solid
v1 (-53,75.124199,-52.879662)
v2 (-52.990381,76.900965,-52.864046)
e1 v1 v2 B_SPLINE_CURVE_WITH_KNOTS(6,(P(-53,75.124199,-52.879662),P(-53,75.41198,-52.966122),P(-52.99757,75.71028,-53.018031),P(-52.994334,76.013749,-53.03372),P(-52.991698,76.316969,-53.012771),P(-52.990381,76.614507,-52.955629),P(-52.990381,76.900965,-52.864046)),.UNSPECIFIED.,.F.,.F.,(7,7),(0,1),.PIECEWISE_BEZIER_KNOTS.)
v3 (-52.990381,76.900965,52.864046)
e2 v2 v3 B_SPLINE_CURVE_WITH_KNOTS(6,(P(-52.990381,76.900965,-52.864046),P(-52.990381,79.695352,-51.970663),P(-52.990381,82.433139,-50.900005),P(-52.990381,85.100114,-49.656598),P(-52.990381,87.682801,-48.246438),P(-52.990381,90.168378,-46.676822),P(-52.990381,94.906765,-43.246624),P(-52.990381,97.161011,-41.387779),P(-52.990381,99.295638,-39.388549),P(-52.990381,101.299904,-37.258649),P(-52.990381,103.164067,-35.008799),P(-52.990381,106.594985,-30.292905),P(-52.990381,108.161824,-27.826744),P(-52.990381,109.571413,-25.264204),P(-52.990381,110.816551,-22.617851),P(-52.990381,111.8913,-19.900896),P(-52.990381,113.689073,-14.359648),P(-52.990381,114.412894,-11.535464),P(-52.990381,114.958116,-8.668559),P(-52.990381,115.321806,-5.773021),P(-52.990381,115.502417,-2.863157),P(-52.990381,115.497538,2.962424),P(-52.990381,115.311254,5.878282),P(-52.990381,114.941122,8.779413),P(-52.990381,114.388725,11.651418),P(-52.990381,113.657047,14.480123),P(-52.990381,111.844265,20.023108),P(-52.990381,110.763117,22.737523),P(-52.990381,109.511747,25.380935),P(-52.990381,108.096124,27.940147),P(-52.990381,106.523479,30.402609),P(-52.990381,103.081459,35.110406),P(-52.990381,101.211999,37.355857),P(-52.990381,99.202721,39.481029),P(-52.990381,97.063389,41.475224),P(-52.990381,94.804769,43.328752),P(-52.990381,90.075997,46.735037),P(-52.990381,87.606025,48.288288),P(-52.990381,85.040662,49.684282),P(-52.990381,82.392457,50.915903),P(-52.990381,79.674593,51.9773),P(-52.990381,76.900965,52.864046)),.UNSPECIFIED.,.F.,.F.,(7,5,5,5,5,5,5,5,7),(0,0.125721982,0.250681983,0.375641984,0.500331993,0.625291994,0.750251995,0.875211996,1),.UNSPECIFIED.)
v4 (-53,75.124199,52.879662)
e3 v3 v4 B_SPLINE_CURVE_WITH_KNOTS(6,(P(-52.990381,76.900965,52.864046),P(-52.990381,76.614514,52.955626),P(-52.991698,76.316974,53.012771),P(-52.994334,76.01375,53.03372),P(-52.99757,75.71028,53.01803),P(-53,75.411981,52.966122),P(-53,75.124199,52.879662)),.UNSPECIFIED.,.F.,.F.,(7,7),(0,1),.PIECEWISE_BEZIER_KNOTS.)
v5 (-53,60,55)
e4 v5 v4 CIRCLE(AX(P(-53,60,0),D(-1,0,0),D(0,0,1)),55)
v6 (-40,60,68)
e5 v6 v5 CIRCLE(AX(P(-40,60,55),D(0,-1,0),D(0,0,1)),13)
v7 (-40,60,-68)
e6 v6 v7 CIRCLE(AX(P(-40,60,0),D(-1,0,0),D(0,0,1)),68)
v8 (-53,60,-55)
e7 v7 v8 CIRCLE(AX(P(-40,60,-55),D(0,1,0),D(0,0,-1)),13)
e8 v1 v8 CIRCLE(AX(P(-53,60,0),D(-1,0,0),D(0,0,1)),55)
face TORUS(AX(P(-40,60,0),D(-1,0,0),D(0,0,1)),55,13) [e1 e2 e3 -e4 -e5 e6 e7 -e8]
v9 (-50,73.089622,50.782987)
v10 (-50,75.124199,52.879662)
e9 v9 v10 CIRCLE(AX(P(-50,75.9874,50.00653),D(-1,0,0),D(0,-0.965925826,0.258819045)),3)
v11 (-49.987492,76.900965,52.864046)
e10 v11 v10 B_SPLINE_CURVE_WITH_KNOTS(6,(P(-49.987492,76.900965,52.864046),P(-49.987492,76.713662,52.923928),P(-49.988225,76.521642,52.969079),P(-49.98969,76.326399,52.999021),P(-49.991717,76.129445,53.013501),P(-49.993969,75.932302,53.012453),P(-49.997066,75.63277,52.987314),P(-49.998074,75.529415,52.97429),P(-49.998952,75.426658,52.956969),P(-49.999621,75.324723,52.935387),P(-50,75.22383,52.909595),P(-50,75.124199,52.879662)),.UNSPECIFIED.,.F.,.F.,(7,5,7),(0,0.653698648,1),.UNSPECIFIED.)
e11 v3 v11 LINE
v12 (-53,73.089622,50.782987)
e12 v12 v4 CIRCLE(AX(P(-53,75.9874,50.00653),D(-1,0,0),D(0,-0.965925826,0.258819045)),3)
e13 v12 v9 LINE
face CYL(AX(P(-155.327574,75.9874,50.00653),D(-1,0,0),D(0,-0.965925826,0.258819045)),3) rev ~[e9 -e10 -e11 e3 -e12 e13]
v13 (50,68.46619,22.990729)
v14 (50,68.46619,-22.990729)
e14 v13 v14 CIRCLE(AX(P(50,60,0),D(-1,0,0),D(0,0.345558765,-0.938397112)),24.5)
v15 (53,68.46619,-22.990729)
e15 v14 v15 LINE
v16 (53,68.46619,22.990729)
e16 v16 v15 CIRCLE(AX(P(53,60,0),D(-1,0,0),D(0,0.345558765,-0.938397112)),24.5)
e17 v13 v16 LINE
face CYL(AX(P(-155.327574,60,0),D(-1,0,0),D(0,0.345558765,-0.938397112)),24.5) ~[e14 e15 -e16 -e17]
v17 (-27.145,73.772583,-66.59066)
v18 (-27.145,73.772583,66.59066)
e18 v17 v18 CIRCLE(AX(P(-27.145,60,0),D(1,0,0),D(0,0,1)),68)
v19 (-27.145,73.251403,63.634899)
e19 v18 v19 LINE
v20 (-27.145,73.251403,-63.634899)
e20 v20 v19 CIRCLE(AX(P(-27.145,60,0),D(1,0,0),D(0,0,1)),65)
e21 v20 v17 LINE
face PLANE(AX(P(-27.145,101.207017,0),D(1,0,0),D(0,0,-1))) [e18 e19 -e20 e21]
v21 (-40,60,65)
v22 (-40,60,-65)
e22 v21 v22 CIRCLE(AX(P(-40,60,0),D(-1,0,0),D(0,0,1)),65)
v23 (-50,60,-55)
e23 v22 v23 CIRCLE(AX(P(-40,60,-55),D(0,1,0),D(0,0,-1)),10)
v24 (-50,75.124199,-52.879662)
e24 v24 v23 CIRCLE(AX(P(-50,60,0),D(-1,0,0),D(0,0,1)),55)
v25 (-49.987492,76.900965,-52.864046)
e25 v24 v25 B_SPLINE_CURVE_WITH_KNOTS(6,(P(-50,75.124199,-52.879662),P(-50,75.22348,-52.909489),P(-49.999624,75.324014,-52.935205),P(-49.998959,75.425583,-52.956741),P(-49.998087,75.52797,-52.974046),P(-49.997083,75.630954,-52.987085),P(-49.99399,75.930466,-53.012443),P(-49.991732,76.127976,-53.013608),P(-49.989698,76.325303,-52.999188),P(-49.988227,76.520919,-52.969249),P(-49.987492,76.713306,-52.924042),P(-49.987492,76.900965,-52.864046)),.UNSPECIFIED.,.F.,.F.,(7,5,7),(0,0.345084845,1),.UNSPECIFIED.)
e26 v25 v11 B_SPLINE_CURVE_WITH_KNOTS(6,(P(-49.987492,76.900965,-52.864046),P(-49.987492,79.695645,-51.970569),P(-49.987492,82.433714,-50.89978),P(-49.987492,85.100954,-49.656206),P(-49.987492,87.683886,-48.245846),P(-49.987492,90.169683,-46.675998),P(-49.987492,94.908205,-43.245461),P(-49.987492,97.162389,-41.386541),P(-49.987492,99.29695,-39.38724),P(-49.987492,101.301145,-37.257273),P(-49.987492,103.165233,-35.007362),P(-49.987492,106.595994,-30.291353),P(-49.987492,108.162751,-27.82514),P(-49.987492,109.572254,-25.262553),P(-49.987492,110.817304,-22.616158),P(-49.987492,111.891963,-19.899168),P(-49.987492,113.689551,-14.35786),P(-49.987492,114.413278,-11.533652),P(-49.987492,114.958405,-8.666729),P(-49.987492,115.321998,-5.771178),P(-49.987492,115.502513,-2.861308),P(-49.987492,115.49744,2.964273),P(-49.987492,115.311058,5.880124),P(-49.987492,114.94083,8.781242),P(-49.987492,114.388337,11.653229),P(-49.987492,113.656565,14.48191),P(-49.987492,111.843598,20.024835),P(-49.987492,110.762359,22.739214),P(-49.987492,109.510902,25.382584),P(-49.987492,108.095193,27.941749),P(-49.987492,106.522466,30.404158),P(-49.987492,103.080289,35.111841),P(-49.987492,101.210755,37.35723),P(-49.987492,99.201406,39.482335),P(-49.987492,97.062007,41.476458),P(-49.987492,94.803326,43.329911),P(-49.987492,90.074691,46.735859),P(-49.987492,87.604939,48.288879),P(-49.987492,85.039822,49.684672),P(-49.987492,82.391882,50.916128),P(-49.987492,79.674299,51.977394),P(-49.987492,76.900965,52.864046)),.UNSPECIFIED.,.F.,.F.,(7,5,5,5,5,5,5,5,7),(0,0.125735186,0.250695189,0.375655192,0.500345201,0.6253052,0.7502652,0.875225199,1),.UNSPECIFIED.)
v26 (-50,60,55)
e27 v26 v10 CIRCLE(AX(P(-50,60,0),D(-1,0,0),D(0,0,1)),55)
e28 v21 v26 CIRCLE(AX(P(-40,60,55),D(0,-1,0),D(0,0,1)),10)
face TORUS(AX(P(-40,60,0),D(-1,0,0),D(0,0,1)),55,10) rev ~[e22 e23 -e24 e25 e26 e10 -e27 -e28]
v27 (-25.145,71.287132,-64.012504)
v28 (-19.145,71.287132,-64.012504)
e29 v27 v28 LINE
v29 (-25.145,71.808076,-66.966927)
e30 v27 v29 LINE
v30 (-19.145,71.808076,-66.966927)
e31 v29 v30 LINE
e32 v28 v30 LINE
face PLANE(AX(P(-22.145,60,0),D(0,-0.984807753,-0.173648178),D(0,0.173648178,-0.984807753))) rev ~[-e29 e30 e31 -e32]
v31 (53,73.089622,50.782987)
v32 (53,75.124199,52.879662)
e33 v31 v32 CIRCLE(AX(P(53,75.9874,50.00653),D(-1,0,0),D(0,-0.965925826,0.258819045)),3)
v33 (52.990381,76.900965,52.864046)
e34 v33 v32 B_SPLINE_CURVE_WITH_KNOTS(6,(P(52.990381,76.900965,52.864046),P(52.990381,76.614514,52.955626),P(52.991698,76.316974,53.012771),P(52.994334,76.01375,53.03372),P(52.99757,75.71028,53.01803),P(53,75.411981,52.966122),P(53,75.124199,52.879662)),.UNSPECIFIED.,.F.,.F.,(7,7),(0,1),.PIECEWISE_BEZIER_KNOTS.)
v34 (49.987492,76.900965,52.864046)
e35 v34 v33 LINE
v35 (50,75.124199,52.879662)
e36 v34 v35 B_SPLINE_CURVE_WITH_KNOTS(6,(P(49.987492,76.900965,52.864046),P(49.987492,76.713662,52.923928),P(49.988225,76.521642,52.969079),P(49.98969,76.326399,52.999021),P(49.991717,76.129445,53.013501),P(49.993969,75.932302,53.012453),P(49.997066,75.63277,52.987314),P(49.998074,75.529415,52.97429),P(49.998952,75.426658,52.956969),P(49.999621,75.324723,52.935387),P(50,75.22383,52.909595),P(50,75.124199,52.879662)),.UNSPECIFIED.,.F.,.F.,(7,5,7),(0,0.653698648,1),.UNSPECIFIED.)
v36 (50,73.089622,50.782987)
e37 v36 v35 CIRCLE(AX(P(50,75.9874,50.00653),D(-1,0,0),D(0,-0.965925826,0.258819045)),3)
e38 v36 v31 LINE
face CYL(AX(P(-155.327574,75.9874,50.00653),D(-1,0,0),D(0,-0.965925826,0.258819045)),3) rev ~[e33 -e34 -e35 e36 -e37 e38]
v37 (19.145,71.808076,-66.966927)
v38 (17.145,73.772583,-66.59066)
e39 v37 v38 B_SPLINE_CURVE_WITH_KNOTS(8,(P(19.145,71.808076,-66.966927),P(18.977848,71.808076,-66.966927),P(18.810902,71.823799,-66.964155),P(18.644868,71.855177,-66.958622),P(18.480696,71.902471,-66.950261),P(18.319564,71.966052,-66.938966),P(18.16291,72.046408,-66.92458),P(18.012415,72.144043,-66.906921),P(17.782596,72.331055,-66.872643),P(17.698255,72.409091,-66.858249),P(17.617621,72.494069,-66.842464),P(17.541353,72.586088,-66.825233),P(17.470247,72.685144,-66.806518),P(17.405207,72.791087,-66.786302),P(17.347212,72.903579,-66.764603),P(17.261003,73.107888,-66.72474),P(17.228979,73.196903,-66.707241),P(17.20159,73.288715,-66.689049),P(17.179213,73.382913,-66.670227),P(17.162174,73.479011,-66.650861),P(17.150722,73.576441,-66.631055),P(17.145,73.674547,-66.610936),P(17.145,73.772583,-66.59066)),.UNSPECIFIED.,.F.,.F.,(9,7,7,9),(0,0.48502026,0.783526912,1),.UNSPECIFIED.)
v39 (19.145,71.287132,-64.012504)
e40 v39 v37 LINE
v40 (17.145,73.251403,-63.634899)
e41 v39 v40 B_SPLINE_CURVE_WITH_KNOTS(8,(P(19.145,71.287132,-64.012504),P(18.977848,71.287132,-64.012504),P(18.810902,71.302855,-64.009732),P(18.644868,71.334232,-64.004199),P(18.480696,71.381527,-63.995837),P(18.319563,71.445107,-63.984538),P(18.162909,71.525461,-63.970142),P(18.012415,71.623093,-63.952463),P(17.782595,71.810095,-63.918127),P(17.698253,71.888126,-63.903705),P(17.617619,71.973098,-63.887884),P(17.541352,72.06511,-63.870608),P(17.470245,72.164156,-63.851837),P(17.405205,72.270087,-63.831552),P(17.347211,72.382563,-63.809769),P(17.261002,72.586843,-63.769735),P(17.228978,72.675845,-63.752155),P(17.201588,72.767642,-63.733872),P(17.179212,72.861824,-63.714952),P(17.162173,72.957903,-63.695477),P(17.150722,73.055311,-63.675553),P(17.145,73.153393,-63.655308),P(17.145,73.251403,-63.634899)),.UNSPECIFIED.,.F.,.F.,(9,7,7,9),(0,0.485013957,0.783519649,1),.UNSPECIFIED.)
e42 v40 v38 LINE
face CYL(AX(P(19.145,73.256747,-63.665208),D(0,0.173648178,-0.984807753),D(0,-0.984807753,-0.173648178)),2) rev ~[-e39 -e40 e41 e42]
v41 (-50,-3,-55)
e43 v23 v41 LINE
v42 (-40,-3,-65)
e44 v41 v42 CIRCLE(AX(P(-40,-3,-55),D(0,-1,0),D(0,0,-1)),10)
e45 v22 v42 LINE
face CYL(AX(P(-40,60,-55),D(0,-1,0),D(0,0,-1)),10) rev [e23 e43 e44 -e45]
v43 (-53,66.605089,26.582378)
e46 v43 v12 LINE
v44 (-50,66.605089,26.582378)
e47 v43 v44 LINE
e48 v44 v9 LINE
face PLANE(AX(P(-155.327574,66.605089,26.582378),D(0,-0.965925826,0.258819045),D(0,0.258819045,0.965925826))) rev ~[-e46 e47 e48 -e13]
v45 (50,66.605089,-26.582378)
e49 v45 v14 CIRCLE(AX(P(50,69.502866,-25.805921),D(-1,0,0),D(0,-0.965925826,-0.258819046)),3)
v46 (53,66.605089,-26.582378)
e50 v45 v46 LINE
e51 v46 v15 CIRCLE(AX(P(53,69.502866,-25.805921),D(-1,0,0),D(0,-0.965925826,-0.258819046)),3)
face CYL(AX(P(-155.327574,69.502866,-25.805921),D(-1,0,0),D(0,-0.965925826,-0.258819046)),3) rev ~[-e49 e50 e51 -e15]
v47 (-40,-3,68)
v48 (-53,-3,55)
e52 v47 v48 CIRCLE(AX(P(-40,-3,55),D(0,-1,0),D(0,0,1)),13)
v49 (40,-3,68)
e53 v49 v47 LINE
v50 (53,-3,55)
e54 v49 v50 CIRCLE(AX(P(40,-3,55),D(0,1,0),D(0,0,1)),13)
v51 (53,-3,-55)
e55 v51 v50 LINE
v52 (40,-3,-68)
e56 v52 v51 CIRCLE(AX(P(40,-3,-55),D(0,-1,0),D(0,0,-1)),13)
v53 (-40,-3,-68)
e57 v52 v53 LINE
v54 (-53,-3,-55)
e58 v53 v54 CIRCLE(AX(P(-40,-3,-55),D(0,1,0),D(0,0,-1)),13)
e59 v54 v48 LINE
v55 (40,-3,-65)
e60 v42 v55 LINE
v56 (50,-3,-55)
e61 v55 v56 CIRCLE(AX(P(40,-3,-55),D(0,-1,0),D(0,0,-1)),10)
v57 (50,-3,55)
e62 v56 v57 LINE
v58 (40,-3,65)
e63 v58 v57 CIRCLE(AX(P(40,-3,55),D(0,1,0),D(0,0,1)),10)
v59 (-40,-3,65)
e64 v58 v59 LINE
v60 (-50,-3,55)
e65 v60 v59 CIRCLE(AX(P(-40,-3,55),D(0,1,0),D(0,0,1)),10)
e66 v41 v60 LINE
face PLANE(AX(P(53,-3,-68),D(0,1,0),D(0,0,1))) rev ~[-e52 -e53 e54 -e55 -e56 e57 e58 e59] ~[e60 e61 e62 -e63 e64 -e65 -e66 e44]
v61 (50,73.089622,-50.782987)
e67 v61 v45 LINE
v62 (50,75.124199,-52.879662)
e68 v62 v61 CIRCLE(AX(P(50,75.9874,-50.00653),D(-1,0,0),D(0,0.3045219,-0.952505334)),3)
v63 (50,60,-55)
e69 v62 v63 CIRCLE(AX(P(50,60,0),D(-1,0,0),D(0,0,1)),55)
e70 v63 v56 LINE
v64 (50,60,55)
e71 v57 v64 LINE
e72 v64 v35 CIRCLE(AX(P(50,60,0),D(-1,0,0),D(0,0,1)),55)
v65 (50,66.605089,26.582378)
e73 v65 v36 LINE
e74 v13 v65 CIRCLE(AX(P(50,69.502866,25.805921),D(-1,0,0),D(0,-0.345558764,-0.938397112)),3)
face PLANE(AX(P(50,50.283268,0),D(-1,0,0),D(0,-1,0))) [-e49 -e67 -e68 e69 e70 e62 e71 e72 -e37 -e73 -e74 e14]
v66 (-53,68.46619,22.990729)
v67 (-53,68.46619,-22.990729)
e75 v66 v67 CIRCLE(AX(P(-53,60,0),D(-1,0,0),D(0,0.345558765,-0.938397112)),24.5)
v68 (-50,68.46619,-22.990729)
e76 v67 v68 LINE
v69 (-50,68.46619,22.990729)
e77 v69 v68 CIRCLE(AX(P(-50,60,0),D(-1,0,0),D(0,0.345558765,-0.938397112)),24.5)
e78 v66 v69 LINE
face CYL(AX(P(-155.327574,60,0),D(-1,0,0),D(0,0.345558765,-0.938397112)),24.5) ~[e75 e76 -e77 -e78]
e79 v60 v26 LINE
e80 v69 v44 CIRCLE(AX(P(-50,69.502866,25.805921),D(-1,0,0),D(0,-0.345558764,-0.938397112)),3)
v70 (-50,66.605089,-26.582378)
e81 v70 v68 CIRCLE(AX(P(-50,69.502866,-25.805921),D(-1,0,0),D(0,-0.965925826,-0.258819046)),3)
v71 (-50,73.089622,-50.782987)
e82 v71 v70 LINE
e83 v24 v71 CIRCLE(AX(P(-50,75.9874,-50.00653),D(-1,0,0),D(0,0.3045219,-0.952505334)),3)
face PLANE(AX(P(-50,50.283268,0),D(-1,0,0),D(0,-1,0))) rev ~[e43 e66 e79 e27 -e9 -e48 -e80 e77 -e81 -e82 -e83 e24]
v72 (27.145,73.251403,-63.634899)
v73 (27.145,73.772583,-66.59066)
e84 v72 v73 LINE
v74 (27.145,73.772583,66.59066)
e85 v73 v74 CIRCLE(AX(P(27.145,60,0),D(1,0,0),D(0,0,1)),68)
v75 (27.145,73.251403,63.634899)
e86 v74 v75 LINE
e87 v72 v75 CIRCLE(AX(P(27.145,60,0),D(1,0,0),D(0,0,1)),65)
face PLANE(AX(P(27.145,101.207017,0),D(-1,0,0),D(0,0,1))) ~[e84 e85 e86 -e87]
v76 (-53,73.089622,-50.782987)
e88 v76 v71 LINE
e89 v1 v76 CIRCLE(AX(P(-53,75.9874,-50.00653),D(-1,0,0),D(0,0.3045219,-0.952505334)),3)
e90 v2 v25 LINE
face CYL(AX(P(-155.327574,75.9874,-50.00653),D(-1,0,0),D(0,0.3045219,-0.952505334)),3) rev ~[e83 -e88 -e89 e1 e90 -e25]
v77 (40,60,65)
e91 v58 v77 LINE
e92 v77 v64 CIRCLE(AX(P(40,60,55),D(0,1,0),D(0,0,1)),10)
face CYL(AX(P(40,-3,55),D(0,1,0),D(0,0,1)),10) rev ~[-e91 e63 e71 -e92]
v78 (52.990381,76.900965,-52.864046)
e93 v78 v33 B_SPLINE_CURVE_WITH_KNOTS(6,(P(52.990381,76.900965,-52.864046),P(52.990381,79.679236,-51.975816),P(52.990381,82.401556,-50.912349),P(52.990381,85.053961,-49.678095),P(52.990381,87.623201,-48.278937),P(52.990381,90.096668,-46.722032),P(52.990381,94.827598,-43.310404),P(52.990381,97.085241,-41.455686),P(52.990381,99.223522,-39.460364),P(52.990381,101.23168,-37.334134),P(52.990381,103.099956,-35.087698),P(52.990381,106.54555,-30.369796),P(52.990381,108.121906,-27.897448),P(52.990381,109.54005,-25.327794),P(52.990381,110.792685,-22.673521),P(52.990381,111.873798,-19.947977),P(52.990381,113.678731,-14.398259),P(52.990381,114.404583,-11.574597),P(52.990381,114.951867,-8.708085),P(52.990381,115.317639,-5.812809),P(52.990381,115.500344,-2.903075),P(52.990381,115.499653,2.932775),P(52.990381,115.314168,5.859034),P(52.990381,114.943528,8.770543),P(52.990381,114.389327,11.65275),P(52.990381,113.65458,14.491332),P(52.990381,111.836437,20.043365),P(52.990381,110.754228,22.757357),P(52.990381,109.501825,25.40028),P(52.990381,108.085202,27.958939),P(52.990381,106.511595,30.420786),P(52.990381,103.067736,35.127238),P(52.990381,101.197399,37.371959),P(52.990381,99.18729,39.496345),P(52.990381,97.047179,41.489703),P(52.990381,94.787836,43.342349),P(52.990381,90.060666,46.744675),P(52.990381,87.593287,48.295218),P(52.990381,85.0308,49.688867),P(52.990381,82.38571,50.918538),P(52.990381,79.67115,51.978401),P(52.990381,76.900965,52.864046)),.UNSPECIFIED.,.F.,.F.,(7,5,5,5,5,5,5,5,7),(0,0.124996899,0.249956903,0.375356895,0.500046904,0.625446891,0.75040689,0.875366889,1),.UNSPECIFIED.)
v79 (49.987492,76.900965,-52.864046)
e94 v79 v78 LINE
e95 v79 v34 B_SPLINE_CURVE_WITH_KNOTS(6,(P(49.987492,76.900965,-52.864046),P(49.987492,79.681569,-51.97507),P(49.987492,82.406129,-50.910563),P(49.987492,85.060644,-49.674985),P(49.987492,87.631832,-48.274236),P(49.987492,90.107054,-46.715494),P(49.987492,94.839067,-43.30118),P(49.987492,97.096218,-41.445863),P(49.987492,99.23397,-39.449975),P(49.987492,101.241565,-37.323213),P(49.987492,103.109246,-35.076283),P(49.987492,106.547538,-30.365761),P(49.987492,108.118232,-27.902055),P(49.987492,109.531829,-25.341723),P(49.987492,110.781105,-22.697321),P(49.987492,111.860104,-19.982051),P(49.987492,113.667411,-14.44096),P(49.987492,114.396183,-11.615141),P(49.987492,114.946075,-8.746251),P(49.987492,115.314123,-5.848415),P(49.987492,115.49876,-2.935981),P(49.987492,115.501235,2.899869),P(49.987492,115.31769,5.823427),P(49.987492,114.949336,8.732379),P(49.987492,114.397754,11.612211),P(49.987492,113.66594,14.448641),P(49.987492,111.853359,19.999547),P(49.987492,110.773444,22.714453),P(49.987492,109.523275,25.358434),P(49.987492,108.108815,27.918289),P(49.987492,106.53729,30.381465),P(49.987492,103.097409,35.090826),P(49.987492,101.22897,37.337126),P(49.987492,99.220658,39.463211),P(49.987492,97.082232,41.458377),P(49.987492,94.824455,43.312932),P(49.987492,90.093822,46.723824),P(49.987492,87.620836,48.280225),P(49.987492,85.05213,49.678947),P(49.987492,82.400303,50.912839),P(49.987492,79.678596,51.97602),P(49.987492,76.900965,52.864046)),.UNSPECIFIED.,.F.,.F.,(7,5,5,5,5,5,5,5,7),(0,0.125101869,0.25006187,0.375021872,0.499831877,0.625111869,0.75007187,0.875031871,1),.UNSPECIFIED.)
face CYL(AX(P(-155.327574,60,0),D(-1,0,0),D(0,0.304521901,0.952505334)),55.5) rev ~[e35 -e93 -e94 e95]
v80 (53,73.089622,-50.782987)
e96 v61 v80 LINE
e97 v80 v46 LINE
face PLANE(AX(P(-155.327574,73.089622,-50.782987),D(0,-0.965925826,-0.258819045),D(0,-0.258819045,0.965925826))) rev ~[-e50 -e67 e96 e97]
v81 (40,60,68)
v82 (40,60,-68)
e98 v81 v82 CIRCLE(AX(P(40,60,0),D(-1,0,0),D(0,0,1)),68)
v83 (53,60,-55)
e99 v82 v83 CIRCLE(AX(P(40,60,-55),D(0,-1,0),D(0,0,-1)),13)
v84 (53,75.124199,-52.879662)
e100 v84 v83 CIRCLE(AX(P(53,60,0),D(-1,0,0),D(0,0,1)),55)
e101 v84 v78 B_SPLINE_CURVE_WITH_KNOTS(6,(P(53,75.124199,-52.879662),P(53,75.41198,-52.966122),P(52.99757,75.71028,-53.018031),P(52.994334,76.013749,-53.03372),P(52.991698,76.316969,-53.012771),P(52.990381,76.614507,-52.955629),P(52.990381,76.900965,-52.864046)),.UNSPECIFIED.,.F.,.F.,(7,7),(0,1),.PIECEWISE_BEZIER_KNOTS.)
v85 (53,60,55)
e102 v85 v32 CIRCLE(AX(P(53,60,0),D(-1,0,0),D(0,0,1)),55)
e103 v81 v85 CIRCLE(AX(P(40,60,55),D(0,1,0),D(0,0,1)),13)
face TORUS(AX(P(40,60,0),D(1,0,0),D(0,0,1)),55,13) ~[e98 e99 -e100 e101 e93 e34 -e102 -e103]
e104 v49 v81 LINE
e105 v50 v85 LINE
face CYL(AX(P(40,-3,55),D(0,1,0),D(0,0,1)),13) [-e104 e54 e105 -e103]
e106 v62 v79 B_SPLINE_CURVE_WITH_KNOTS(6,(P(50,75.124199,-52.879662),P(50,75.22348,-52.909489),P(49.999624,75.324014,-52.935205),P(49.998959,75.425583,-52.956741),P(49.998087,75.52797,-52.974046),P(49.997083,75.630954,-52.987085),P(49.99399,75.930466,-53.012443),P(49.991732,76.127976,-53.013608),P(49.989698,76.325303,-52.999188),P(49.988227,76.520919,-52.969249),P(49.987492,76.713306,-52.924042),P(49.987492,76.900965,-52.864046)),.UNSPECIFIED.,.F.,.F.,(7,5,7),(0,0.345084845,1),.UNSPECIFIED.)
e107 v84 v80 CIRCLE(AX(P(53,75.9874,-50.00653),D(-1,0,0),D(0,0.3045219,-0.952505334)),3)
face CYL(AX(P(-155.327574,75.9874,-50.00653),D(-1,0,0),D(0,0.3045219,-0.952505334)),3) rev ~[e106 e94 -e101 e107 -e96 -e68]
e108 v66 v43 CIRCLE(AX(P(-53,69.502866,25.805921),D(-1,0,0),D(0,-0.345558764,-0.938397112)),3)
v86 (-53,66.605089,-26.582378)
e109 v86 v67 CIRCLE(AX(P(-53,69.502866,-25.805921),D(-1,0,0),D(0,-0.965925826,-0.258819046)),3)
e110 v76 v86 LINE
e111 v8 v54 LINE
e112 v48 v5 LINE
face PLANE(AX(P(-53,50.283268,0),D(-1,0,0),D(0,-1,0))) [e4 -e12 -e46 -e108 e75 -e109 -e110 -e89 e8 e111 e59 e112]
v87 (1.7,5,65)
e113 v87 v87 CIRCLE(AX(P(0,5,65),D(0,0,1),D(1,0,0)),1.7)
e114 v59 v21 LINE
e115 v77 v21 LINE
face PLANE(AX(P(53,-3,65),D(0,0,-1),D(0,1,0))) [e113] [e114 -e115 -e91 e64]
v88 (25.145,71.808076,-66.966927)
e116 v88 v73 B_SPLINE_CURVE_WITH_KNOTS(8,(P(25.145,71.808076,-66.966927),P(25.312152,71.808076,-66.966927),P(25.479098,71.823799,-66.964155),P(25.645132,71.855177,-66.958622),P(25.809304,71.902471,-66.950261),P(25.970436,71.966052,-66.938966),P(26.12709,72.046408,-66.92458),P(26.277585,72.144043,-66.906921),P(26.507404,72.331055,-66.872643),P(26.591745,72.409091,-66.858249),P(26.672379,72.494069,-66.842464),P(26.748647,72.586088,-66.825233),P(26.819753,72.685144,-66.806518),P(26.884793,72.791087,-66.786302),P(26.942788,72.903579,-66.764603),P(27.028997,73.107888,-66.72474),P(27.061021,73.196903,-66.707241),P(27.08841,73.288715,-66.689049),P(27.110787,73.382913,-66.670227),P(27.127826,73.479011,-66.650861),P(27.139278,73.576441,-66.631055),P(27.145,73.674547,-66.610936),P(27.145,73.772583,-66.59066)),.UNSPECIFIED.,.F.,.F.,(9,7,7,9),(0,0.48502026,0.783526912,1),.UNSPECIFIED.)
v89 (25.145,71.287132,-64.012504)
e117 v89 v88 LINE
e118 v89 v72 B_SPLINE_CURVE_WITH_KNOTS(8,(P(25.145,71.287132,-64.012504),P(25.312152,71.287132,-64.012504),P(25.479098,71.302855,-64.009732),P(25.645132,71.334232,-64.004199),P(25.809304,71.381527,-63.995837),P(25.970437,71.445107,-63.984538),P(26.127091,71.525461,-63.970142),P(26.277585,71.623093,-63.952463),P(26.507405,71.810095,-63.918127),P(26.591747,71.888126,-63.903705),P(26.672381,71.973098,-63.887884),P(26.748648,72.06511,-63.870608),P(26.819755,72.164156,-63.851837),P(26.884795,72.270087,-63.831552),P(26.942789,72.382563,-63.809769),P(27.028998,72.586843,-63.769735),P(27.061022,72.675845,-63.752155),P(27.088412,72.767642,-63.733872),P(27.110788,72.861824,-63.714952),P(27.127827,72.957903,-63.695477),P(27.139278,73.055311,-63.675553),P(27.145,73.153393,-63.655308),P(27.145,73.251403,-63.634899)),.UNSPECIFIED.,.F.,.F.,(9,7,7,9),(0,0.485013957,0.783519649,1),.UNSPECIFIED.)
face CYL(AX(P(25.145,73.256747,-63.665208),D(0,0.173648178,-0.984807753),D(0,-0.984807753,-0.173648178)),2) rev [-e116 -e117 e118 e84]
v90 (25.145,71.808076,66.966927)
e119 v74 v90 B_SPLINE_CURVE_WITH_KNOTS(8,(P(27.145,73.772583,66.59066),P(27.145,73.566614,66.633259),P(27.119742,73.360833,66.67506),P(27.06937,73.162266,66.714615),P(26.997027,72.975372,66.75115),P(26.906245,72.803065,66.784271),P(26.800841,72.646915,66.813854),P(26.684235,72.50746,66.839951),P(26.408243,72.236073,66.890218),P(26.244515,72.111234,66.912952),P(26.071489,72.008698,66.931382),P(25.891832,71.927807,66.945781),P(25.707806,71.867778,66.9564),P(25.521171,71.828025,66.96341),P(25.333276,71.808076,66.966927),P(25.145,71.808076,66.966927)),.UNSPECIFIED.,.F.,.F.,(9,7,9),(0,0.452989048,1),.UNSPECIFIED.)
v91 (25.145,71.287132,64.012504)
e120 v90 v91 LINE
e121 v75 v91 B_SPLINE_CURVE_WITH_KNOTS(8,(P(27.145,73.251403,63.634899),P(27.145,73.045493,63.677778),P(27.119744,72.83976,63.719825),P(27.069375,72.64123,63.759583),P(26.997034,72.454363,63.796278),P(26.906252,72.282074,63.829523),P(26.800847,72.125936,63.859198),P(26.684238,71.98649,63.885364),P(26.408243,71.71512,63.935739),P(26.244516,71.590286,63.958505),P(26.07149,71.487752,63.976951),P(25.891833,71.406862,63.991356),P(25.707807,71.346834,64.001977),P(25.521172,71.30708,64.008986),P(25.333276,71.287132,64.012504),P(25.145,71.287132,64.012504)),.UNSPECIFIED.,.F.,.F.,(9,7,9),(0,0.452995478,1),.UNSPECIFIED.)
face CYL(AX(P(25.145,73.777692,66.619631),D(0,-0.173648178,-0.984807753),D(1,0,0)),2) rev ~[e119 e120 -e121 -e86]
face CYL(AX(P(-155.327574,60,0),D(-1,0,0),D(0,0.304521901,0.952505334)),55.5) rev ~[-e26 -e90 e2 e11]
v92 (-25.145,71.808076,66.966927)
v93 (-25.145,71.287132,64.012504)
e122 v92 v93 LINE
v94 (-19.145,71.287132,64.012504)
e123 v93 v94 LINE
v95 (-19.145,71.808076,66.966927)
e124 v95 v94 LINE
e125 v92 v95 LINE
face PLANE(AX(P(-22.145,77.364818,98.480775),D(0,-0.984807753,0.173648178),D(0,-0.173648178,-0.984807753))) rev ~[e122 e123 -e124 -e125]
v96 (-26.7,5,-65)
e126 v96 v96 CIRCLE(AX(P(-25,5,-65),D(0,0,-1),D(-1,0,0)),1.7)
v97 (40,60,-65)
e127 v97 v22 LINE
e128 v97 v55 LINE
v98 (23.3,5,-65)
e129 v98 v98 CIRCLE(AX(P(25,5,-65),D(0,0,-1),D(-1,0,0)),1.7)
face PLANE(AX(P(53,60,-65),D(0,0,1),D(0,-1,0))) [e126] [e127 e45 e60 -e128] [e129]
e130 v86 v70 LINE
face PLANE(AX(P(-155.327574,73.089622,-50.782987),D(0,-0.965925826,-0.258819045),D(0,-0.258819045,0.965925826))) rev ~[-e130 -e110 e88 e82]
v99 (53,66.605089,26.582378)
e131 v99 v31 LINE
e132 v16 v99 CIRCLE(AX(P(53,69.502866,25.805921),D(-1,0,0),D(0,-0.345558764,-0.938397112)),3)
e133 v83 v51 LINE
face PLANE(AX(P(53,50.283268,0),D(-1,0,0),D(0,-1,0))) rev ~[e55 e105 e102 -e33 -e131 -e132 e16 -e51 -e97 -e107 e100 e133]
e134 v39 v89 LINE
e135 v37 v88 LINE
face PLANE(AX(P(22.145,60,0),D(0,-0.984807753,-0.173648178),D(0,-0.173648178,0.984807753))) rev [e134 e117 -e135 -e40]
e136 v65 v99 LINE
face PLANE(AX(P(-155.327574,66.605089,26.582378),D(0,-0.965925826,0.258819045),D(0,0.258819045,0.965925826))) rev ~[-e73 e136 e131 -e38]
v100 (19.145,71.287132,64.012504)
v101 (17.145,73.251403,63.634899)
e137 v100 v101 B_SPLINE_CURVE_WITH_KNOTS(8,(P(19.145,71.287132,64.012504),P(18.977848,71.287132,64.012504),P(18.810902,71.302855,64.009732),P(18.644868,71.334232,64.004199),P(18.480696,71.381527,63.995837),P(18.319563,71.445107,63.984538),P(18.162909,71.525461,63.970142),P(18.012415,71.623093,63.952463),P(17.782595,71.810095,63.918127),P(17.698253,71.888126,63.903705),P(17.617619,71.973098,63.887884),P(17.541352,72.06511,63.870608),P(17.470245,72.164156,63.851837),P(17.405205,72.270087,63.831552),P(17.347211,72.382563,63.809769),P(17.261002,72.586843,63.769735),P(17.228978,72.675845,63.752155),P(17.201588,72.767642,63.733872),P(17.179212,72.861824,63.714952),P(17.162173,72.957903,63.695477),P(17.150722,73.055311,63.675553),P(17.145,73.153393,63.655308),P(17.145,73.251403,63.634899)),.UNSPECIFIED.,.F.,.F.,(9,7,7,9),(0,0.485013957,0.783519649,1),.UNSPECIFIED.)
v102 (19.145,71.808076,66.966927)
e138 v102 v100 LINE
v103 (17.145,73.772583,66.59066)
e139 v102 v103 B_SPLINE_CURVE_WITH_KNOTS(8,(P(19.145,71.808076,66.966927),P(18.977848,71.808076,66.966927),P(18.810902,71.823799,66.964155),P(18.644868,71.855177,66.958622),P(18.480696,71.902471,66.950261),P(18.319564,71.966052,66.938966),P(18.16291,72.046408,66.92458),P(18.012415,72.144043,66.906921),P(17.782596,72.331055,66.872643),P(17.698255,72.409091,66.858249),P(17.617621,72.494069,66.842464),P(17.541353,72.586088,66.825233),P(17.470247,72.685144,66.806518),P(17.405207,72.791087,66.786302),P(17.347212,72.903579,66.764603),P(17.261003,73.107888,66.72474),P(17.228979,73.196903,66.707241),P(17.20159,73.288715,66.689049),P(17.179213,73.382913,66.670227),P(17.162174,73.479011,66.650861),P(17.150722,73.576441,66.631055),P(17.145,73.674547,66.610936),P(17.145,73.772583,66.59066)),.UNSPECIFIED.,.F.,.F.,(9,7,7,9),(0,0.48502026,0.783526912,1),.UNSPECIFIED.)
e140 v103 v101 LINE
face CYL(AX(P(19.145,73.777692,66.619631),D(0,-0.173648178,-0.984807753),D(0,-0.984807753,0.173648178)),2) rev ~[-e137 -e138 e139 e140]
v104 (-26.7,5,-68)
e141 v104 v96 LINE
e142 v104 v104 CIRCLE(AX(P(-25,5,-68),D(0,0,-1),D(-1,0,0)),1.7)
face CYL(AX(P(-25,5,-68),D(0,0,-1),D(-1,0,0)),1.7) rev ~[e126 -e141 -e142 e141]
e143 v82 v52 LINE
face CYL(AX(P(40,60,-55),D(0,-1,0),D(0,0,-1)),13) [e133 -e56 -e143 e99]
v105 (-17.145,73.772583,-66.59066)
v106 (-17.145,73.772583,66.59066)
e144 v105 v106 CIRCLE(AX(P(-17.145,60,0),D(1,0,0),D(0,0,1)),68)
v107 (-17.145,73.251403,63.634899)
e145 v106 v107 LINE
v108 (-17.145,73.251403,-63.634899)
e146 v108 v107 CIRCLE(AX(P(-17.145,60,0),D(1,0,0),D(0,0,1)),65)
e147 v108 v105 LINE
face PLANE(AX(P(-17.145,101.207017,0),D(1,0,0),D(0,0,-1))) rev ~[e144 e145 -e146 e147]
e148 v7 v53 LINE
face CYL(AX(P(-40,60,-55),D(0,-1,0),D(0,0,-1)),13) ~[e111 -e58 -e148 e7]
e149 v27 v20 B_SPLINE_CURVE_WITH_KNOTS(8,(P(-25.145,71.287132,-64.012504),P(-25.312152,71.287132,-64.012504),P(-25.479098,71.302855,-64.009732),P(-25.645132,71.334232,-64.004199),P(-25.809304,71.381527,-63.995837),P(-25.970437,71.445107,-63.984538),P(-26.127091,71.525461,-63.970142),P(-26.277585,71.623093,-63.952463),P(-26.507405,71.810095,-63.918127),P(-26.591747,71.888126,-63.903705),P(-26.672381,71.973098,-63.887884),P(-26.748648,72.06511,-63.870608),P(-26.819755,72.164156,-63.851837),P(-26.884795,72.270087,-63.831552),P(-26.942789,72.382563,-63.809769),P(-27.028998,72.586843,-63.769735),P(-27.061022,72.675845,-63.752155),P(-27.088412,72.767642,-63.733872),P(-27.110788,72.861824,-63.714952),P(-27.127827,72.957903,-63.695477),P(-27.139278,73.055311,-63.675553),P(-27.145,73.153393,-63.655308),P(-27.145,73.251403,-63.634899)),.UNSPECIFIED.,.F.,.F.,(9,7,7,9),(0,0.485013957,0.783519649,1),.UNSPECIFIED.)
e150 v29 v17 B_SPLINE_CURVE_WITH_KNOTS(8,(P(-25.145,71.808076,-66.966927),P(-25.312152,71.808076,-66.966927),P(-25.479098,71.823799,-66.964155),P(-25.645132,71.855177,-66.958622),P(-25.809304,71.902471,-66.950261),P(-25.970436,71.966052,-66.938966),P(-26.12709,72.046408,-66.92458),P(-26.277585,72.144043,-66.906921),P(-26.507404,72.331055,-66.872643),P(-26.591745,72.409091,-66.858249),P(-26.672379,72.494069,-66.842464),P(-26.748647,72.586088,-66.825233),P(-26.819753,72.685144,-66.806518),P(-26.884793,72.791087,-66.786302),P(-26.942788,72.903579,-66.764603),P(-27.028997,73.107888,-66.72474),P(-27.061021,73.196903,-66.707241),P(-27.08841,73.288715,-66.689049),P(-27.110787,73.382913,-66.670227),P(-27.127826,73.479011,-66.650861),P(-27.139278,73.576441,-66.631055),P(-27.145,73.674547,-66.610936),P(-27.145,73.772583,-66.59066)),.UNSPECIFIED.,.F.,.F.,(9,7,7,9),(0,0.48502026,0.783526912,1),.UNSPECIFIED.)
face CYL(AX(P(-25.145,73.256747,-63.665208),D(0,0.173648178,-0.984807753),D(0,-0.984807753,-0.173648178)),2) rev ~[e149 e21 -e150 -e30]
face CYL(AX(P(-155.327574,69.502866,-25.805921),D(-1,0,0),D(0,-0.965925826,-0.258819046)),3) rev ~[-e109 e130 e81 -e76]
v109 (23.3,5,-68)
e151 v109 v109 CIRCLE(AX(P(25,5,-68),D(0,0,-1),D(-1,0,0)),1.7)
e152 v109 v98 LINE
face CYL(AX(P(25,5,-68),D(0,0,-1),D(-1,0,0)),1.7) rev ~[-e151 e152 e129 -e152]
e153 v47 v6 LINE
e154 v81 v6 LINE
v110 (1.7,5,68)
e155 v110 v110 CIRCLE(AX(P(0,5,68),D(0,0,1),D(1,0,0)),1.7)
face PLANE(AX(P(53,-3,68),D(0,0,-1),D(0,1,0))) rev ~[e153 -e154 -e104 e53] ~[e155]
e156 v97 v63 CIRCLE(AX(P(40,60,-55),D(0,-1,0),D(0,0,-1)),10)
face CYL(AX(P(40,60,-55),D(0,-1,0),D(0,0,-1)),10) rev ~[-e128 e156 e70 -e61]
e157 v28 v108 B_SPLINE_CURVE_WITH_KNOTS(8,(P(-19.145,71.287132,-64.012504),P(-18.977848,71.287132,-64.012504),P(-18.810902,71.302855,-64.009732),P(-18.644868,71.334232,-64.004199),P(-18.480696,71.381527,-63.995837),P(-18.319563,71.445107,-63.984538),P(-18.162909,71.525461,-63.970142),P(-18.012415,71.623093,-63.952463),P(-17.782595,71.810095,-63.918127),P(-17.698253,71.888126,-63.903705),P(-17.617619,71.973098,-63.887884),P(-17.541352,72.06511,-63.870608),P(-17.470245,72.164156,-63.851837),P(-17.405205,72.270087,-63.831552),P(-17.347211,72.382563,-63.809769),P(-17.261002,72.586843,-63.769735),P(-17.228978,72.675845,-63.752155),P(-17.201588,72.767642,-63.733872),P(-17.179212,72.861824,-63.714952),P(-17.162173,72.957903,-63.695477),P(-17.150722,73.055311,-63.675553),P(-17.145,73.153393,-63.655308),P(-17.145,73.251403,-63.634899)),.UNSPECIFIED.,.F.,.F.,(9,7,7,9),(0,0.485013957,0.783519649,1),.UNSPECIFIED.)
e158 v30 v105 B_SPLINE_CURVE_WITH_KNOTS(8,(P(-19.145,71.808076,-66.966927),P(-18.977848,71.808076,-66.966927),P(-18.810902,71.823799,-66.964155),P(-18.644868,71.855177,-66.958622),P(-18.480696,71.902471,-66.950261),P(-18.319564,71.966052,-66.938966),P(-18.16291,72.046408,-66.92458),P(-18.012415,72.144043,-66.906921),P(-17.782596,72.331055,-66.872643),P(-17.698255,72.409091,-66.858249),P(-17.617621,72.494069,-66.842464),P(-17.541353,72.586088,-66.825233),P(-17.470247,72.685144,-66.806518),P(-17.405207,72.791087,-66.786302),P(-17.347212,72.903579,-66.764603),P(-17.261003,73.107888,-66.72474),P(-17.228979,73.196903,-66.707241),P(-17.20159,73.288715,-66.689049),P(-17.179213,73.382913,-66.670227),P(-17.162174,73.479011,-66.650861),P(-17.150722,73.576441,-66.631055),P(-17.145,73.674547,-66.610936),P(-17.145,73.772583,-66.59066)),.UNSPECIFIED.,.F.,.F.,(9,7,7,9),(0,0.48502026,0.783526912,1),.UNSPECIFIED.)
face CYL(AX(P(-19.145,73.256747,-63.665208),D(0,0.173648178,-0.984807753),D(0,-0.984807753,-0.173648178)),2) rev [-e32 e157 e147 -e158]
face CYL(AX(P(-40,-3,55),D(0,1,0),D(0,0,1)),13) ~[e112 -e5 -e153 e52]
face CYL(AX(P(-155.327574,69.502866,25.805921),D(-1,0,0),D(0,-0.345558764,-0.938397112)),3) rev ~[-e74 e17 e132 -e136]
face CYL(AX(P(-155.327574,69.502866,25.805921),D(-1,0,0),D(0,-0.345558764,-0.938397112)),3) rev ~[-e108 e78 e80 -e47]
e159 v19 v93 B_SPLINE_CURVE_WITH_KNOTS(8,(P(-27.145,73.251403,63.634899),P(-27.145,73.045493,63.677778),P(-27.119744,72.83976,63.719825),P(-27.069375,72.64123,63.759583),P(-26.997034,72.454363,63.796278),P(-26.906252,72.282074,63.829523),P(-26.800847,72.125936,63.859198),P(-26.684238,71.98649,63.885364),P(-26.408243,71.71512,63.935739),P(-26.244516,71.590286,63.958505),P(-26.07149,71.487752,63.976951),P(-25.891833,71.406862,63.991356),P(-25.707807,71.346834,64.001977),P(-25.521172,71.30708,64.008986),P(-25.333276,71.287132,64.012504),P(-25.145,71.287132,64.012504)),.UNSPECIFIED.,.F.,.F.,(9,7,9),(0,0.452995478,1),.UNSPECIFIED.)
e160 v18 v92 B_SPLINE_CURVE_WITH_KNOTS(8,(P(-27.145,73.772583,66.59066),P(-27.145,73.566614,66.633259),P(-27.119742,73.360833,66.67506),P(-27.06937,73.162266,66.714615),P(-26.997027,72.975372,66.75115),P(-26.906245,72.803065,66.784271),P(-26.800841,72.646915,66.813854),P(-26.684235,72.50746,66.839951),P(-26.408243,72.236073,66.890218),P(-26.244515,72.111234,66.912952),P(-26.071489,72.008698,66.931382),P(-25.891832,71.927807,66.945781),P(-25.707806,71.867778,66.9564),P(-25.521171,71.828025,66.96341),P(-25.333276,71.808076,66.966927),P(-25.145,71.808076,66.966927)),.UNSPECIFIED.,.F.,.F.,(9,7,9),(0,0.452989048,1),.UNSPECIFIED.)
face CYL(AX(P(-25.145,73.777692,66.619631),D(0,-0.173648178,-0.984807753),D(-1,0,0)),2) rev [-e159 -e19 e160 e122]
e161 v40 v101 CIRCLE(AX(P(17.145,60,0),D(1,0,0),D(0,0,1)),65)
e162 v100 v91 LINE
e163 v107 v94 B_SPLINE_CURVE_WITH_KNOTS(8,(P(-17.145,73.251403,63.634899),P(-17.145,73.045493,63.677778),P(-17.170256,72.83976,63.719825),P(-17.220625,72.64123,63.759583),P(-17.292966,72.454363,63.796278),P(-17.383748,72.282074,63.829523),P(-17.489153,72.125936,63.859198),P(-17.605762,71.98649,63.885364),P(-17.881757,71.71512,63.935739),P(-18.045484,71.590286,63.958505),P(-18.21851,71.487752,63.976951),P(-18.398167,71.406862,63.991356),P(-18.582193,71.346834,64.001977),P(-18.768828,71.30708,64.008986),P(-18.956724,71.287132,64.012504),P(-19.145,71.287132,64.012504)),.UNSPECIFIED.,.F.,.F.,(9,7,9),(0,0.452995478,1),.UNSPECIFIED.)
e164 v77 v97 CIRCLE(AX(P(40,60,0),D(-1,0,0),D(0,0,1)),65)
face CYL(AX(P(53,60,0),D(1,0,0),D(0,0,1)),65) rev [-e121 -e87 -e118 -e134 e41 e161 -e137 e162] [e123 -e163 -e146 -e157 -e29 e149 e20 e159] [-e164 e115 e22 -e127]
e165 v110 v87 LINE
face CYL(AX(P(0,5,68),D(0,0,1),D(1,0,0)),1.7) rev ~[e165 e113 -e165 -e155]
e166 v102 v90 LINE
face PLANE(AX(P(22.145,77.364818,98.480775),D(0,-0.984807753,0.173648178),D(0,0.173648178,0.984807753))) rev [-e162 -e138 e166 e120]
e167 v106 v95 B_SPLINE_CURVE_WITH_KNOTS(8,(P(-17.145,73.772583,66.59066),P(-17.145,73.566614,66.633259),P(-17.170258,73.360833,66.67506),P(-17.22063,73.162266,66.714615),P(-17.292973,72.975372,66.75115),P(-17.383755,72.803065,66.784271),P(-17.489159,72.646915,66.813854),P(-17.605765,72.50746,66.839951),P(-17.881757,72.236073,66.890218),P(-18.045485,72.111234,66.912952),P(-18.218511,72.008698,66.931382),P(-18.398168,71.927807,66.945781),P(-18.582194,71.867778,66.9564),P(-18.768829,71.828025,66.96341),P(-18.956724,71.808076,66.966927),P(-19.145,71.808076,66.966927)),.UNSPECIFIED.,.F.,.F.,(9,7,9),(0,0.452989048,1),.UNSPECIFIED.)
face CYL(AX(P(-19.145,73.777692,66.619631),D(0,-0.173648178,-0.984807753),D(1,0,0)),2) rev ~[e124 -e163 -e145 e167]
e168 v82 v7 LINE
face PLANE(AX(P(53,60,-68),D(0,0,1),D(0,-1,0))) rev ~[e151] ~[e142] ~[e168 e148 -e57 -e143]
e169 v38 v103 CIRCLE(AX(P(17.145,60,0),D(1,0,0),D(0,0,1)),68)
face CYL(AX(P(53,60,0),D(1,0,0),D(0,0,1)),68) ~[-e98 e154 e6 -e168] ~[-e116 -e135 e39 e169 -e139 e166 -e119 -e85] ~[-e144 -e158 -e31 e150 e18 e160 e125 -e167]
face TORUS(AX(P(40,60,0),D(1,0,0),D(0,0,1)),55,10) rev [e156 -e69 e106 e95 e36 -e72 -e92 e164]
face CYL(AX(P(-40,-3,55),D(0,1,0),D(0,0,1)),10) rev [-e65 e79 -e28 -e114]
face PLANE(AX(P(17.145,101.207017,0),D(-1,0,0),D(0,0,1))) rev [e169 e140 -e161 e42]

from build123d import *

# Parameters (mm, degrees)
BOSS_EXTRUDE1_DEPTH      = 53
BOSS_EXTRUDE1_DEPTH_BACK = 53
FILLET1_R                = 13
SHELL1_T                 = -3
CUT_EXTRUDE1_DEPTH       = 155.32757377
CUT_EXTRUDE1_DEPTH_BACK  = 155.32757377
CUT_EXTRUDE2_START       = -22.145
CUT_EXTRUDE2_DEPTH       = 5
FILLET2_R                = 2
SKETCH4_R                = 1.7
CUT_EXTRUDE3_DEPTH       = 10
SKETCH5_R                = 1.7
CUT_EXTRUDE6_DEPTH       = 10


with BuildPart() as part:
    # Sketch1 → Boss-Extrude1 (new, two sides: drawn at the far end of the back side and taken through both)
    with BuildSketch(Plane(origin=(0, -21.232774713, 56.11), x_dir=(0, -1, 0), z_dir=(-1, 0, 0)).offset(-BOSS_EXTRUDE1_DEPTH_BACK)):
        with BuildLine():
            Line((-18.232774713, -124.11), (-18.232774713, 11.89))
            Line((-18.232774713, 11.89), (-81.232774713, 11.89))
            ThreePointArc((-81.232774713, 11.89), (-149.232774713, -56.11), (-81.232774713, -124.11))
            Line((-81.232774713, -124.11), (-18.232774713, -124.11))
        make_face()
    extrude(amount=BOSS_EXTRUDE1_DEPTH + BOSS_EXTRUDE1_DEPTH_BACK)

    # Fillet1
    fillet1_edges = [part.edges().sort_by_distance(p)[0] for p in [
        (53, 28.5, 68),
        (53, 128, 0),
        (53, 28.5, -68),
        (-53, 28.5, 68),
        (-53, 28.5, -68),
        (-53, 128, 0),
    ]]
    fillet(fillet1_edges, radius=FILLET1_R)

    # Shell1
    shell1_openings = [part.faces().sort_by_distance(p)[0] for p in [
        (0, -3, 0),
    ]]
    offset(amount=SHELL1_T, openings=shell1_openings, kind=Kind.INTERSECTION)

    # Sketch2 → Cut-Extrude1 (cut, two sides: drawn at the far end of the back side and taken through both)
    with BuildSketch(Plane(origin=(0, 0, 0), x_dir=(0, 0, -1), z_dir=(1, 0, 0)).offset(-CUT_EXTRUDE1_DEPTH_BACK)):
        with BuildLine():
            Line((-26.582377719, 66.605088553), (-50.782987187, 73.089622316))
            ThreePointArc((-50.782987187, 73.089622316), (-52.639593743, 74.549701775), (-52.864046055, 76.900965497))
            ThreePointArc((-52.864046055, 76.900965497), (0, 115.5), (52.864046055, 76.900965497))
            ThreePointArc((52.864046055, 76.900965497), (52.639593743, 74.549701775), (50.782987187, 73.089622316))
            Line((50.782987187, 73.089622316), (26.582377719, 66.605088553))
            ThreePointArc((26.582377719, 66.605088553), (24.425691005, 66.839228235), (22.990729248, 68.466189737))
            ThreePointArc((22.990729248, 68.466189737), (0, 84.5), (-22.990729248, 68.466189737))
            ThreePointArc((-22.990729248, 68.466189737), (-24.425691005, 66.839228235), (-26.582377719, 66.605088553))
        make_face()
    extrude(amount=CUT_EXTRUDE1_DEPTH + CUT_EXTRUDE1_DEPTH_BACK, mode=Mode.SUBTRACT)

    # Sketch3 → Cut-Extrude2 (cut, symmetric)
    with BuildSketch(Plane(origin=(0, 0, 0), x_dir=(0, 0, -1), z_dir=(1, 0, 0)).offset(CUT_EXTRUDE2_START)):
        with BuildLine():
            Line((0, 60), (98.480775301, 77.364817767))
            ThreePointArc((98.480775301, 77.364817767), (0, 160), (-98.480775301, 77.364817767))
            Line((-98.480775301, 77.364817767), (0, 60))
        make_face()
    cut_extrude2 = extrude(amount=CUT_EXTRUDE2_DEPTH, both=True, mode=Mode.SUBTRACT)

    # Mirror1: Cut-Extrude2 across plane
    add(cut_extrude2.mirror(Plane(origin=(0, 0, 0), x_dir=(0, 0, 1), z_dir=(1, 0, 0))), mode=Mode.SUBTRACT)

    # Fillet2
    fillet2_edges = [part.edges().sort_by_distance(p)[0] for p in [
        (-17.145, 71.547603815, 65.489715575),
        (-17.145, 71.547603815, -65.489715575),
        (-27.145, 71.547603815, -65.489715575),
        (-27.145, 71.547603815, 65.489715575),
        (27.145, 71.547603815, 65.489715575),
        (27.145, 71.547603815, -65.489715575),
        (17.145, 71.547603815, -65.489715575),
        (17.145, 71.547603815, 65.489715575),
    ]]
    fillet(fillet2_edges, radius=FILLET2_R)

    # Sketch4 → Cut-Extrude3 (cut)
    with BuildSketch(Plane.XY.offset(68)):
        with Locations((0, 5)):
            Circle(SKETCH4_R)
    extrude(amount=-CUT_EXTRUDE3_DEPTH, mode=Mode.SUBTRACT)

    # Sketch5 → Cut-Extrude6 (cut)
    with BuildSketch(Plane(origin=(0, 0, -68), x_dir=(-1, 0, 0), z_dir=(0, 0, -1))):
        with Locations((25, 5)):
            Circle(SKETCH5_R)
        with Locations((-25, 5)):
            Circle(SKETCH5_R)
    extrude(amount=-CUT_EXTRUDE6_DEPTH, mode=Mode.SUBTRACT)


solid = part.part
